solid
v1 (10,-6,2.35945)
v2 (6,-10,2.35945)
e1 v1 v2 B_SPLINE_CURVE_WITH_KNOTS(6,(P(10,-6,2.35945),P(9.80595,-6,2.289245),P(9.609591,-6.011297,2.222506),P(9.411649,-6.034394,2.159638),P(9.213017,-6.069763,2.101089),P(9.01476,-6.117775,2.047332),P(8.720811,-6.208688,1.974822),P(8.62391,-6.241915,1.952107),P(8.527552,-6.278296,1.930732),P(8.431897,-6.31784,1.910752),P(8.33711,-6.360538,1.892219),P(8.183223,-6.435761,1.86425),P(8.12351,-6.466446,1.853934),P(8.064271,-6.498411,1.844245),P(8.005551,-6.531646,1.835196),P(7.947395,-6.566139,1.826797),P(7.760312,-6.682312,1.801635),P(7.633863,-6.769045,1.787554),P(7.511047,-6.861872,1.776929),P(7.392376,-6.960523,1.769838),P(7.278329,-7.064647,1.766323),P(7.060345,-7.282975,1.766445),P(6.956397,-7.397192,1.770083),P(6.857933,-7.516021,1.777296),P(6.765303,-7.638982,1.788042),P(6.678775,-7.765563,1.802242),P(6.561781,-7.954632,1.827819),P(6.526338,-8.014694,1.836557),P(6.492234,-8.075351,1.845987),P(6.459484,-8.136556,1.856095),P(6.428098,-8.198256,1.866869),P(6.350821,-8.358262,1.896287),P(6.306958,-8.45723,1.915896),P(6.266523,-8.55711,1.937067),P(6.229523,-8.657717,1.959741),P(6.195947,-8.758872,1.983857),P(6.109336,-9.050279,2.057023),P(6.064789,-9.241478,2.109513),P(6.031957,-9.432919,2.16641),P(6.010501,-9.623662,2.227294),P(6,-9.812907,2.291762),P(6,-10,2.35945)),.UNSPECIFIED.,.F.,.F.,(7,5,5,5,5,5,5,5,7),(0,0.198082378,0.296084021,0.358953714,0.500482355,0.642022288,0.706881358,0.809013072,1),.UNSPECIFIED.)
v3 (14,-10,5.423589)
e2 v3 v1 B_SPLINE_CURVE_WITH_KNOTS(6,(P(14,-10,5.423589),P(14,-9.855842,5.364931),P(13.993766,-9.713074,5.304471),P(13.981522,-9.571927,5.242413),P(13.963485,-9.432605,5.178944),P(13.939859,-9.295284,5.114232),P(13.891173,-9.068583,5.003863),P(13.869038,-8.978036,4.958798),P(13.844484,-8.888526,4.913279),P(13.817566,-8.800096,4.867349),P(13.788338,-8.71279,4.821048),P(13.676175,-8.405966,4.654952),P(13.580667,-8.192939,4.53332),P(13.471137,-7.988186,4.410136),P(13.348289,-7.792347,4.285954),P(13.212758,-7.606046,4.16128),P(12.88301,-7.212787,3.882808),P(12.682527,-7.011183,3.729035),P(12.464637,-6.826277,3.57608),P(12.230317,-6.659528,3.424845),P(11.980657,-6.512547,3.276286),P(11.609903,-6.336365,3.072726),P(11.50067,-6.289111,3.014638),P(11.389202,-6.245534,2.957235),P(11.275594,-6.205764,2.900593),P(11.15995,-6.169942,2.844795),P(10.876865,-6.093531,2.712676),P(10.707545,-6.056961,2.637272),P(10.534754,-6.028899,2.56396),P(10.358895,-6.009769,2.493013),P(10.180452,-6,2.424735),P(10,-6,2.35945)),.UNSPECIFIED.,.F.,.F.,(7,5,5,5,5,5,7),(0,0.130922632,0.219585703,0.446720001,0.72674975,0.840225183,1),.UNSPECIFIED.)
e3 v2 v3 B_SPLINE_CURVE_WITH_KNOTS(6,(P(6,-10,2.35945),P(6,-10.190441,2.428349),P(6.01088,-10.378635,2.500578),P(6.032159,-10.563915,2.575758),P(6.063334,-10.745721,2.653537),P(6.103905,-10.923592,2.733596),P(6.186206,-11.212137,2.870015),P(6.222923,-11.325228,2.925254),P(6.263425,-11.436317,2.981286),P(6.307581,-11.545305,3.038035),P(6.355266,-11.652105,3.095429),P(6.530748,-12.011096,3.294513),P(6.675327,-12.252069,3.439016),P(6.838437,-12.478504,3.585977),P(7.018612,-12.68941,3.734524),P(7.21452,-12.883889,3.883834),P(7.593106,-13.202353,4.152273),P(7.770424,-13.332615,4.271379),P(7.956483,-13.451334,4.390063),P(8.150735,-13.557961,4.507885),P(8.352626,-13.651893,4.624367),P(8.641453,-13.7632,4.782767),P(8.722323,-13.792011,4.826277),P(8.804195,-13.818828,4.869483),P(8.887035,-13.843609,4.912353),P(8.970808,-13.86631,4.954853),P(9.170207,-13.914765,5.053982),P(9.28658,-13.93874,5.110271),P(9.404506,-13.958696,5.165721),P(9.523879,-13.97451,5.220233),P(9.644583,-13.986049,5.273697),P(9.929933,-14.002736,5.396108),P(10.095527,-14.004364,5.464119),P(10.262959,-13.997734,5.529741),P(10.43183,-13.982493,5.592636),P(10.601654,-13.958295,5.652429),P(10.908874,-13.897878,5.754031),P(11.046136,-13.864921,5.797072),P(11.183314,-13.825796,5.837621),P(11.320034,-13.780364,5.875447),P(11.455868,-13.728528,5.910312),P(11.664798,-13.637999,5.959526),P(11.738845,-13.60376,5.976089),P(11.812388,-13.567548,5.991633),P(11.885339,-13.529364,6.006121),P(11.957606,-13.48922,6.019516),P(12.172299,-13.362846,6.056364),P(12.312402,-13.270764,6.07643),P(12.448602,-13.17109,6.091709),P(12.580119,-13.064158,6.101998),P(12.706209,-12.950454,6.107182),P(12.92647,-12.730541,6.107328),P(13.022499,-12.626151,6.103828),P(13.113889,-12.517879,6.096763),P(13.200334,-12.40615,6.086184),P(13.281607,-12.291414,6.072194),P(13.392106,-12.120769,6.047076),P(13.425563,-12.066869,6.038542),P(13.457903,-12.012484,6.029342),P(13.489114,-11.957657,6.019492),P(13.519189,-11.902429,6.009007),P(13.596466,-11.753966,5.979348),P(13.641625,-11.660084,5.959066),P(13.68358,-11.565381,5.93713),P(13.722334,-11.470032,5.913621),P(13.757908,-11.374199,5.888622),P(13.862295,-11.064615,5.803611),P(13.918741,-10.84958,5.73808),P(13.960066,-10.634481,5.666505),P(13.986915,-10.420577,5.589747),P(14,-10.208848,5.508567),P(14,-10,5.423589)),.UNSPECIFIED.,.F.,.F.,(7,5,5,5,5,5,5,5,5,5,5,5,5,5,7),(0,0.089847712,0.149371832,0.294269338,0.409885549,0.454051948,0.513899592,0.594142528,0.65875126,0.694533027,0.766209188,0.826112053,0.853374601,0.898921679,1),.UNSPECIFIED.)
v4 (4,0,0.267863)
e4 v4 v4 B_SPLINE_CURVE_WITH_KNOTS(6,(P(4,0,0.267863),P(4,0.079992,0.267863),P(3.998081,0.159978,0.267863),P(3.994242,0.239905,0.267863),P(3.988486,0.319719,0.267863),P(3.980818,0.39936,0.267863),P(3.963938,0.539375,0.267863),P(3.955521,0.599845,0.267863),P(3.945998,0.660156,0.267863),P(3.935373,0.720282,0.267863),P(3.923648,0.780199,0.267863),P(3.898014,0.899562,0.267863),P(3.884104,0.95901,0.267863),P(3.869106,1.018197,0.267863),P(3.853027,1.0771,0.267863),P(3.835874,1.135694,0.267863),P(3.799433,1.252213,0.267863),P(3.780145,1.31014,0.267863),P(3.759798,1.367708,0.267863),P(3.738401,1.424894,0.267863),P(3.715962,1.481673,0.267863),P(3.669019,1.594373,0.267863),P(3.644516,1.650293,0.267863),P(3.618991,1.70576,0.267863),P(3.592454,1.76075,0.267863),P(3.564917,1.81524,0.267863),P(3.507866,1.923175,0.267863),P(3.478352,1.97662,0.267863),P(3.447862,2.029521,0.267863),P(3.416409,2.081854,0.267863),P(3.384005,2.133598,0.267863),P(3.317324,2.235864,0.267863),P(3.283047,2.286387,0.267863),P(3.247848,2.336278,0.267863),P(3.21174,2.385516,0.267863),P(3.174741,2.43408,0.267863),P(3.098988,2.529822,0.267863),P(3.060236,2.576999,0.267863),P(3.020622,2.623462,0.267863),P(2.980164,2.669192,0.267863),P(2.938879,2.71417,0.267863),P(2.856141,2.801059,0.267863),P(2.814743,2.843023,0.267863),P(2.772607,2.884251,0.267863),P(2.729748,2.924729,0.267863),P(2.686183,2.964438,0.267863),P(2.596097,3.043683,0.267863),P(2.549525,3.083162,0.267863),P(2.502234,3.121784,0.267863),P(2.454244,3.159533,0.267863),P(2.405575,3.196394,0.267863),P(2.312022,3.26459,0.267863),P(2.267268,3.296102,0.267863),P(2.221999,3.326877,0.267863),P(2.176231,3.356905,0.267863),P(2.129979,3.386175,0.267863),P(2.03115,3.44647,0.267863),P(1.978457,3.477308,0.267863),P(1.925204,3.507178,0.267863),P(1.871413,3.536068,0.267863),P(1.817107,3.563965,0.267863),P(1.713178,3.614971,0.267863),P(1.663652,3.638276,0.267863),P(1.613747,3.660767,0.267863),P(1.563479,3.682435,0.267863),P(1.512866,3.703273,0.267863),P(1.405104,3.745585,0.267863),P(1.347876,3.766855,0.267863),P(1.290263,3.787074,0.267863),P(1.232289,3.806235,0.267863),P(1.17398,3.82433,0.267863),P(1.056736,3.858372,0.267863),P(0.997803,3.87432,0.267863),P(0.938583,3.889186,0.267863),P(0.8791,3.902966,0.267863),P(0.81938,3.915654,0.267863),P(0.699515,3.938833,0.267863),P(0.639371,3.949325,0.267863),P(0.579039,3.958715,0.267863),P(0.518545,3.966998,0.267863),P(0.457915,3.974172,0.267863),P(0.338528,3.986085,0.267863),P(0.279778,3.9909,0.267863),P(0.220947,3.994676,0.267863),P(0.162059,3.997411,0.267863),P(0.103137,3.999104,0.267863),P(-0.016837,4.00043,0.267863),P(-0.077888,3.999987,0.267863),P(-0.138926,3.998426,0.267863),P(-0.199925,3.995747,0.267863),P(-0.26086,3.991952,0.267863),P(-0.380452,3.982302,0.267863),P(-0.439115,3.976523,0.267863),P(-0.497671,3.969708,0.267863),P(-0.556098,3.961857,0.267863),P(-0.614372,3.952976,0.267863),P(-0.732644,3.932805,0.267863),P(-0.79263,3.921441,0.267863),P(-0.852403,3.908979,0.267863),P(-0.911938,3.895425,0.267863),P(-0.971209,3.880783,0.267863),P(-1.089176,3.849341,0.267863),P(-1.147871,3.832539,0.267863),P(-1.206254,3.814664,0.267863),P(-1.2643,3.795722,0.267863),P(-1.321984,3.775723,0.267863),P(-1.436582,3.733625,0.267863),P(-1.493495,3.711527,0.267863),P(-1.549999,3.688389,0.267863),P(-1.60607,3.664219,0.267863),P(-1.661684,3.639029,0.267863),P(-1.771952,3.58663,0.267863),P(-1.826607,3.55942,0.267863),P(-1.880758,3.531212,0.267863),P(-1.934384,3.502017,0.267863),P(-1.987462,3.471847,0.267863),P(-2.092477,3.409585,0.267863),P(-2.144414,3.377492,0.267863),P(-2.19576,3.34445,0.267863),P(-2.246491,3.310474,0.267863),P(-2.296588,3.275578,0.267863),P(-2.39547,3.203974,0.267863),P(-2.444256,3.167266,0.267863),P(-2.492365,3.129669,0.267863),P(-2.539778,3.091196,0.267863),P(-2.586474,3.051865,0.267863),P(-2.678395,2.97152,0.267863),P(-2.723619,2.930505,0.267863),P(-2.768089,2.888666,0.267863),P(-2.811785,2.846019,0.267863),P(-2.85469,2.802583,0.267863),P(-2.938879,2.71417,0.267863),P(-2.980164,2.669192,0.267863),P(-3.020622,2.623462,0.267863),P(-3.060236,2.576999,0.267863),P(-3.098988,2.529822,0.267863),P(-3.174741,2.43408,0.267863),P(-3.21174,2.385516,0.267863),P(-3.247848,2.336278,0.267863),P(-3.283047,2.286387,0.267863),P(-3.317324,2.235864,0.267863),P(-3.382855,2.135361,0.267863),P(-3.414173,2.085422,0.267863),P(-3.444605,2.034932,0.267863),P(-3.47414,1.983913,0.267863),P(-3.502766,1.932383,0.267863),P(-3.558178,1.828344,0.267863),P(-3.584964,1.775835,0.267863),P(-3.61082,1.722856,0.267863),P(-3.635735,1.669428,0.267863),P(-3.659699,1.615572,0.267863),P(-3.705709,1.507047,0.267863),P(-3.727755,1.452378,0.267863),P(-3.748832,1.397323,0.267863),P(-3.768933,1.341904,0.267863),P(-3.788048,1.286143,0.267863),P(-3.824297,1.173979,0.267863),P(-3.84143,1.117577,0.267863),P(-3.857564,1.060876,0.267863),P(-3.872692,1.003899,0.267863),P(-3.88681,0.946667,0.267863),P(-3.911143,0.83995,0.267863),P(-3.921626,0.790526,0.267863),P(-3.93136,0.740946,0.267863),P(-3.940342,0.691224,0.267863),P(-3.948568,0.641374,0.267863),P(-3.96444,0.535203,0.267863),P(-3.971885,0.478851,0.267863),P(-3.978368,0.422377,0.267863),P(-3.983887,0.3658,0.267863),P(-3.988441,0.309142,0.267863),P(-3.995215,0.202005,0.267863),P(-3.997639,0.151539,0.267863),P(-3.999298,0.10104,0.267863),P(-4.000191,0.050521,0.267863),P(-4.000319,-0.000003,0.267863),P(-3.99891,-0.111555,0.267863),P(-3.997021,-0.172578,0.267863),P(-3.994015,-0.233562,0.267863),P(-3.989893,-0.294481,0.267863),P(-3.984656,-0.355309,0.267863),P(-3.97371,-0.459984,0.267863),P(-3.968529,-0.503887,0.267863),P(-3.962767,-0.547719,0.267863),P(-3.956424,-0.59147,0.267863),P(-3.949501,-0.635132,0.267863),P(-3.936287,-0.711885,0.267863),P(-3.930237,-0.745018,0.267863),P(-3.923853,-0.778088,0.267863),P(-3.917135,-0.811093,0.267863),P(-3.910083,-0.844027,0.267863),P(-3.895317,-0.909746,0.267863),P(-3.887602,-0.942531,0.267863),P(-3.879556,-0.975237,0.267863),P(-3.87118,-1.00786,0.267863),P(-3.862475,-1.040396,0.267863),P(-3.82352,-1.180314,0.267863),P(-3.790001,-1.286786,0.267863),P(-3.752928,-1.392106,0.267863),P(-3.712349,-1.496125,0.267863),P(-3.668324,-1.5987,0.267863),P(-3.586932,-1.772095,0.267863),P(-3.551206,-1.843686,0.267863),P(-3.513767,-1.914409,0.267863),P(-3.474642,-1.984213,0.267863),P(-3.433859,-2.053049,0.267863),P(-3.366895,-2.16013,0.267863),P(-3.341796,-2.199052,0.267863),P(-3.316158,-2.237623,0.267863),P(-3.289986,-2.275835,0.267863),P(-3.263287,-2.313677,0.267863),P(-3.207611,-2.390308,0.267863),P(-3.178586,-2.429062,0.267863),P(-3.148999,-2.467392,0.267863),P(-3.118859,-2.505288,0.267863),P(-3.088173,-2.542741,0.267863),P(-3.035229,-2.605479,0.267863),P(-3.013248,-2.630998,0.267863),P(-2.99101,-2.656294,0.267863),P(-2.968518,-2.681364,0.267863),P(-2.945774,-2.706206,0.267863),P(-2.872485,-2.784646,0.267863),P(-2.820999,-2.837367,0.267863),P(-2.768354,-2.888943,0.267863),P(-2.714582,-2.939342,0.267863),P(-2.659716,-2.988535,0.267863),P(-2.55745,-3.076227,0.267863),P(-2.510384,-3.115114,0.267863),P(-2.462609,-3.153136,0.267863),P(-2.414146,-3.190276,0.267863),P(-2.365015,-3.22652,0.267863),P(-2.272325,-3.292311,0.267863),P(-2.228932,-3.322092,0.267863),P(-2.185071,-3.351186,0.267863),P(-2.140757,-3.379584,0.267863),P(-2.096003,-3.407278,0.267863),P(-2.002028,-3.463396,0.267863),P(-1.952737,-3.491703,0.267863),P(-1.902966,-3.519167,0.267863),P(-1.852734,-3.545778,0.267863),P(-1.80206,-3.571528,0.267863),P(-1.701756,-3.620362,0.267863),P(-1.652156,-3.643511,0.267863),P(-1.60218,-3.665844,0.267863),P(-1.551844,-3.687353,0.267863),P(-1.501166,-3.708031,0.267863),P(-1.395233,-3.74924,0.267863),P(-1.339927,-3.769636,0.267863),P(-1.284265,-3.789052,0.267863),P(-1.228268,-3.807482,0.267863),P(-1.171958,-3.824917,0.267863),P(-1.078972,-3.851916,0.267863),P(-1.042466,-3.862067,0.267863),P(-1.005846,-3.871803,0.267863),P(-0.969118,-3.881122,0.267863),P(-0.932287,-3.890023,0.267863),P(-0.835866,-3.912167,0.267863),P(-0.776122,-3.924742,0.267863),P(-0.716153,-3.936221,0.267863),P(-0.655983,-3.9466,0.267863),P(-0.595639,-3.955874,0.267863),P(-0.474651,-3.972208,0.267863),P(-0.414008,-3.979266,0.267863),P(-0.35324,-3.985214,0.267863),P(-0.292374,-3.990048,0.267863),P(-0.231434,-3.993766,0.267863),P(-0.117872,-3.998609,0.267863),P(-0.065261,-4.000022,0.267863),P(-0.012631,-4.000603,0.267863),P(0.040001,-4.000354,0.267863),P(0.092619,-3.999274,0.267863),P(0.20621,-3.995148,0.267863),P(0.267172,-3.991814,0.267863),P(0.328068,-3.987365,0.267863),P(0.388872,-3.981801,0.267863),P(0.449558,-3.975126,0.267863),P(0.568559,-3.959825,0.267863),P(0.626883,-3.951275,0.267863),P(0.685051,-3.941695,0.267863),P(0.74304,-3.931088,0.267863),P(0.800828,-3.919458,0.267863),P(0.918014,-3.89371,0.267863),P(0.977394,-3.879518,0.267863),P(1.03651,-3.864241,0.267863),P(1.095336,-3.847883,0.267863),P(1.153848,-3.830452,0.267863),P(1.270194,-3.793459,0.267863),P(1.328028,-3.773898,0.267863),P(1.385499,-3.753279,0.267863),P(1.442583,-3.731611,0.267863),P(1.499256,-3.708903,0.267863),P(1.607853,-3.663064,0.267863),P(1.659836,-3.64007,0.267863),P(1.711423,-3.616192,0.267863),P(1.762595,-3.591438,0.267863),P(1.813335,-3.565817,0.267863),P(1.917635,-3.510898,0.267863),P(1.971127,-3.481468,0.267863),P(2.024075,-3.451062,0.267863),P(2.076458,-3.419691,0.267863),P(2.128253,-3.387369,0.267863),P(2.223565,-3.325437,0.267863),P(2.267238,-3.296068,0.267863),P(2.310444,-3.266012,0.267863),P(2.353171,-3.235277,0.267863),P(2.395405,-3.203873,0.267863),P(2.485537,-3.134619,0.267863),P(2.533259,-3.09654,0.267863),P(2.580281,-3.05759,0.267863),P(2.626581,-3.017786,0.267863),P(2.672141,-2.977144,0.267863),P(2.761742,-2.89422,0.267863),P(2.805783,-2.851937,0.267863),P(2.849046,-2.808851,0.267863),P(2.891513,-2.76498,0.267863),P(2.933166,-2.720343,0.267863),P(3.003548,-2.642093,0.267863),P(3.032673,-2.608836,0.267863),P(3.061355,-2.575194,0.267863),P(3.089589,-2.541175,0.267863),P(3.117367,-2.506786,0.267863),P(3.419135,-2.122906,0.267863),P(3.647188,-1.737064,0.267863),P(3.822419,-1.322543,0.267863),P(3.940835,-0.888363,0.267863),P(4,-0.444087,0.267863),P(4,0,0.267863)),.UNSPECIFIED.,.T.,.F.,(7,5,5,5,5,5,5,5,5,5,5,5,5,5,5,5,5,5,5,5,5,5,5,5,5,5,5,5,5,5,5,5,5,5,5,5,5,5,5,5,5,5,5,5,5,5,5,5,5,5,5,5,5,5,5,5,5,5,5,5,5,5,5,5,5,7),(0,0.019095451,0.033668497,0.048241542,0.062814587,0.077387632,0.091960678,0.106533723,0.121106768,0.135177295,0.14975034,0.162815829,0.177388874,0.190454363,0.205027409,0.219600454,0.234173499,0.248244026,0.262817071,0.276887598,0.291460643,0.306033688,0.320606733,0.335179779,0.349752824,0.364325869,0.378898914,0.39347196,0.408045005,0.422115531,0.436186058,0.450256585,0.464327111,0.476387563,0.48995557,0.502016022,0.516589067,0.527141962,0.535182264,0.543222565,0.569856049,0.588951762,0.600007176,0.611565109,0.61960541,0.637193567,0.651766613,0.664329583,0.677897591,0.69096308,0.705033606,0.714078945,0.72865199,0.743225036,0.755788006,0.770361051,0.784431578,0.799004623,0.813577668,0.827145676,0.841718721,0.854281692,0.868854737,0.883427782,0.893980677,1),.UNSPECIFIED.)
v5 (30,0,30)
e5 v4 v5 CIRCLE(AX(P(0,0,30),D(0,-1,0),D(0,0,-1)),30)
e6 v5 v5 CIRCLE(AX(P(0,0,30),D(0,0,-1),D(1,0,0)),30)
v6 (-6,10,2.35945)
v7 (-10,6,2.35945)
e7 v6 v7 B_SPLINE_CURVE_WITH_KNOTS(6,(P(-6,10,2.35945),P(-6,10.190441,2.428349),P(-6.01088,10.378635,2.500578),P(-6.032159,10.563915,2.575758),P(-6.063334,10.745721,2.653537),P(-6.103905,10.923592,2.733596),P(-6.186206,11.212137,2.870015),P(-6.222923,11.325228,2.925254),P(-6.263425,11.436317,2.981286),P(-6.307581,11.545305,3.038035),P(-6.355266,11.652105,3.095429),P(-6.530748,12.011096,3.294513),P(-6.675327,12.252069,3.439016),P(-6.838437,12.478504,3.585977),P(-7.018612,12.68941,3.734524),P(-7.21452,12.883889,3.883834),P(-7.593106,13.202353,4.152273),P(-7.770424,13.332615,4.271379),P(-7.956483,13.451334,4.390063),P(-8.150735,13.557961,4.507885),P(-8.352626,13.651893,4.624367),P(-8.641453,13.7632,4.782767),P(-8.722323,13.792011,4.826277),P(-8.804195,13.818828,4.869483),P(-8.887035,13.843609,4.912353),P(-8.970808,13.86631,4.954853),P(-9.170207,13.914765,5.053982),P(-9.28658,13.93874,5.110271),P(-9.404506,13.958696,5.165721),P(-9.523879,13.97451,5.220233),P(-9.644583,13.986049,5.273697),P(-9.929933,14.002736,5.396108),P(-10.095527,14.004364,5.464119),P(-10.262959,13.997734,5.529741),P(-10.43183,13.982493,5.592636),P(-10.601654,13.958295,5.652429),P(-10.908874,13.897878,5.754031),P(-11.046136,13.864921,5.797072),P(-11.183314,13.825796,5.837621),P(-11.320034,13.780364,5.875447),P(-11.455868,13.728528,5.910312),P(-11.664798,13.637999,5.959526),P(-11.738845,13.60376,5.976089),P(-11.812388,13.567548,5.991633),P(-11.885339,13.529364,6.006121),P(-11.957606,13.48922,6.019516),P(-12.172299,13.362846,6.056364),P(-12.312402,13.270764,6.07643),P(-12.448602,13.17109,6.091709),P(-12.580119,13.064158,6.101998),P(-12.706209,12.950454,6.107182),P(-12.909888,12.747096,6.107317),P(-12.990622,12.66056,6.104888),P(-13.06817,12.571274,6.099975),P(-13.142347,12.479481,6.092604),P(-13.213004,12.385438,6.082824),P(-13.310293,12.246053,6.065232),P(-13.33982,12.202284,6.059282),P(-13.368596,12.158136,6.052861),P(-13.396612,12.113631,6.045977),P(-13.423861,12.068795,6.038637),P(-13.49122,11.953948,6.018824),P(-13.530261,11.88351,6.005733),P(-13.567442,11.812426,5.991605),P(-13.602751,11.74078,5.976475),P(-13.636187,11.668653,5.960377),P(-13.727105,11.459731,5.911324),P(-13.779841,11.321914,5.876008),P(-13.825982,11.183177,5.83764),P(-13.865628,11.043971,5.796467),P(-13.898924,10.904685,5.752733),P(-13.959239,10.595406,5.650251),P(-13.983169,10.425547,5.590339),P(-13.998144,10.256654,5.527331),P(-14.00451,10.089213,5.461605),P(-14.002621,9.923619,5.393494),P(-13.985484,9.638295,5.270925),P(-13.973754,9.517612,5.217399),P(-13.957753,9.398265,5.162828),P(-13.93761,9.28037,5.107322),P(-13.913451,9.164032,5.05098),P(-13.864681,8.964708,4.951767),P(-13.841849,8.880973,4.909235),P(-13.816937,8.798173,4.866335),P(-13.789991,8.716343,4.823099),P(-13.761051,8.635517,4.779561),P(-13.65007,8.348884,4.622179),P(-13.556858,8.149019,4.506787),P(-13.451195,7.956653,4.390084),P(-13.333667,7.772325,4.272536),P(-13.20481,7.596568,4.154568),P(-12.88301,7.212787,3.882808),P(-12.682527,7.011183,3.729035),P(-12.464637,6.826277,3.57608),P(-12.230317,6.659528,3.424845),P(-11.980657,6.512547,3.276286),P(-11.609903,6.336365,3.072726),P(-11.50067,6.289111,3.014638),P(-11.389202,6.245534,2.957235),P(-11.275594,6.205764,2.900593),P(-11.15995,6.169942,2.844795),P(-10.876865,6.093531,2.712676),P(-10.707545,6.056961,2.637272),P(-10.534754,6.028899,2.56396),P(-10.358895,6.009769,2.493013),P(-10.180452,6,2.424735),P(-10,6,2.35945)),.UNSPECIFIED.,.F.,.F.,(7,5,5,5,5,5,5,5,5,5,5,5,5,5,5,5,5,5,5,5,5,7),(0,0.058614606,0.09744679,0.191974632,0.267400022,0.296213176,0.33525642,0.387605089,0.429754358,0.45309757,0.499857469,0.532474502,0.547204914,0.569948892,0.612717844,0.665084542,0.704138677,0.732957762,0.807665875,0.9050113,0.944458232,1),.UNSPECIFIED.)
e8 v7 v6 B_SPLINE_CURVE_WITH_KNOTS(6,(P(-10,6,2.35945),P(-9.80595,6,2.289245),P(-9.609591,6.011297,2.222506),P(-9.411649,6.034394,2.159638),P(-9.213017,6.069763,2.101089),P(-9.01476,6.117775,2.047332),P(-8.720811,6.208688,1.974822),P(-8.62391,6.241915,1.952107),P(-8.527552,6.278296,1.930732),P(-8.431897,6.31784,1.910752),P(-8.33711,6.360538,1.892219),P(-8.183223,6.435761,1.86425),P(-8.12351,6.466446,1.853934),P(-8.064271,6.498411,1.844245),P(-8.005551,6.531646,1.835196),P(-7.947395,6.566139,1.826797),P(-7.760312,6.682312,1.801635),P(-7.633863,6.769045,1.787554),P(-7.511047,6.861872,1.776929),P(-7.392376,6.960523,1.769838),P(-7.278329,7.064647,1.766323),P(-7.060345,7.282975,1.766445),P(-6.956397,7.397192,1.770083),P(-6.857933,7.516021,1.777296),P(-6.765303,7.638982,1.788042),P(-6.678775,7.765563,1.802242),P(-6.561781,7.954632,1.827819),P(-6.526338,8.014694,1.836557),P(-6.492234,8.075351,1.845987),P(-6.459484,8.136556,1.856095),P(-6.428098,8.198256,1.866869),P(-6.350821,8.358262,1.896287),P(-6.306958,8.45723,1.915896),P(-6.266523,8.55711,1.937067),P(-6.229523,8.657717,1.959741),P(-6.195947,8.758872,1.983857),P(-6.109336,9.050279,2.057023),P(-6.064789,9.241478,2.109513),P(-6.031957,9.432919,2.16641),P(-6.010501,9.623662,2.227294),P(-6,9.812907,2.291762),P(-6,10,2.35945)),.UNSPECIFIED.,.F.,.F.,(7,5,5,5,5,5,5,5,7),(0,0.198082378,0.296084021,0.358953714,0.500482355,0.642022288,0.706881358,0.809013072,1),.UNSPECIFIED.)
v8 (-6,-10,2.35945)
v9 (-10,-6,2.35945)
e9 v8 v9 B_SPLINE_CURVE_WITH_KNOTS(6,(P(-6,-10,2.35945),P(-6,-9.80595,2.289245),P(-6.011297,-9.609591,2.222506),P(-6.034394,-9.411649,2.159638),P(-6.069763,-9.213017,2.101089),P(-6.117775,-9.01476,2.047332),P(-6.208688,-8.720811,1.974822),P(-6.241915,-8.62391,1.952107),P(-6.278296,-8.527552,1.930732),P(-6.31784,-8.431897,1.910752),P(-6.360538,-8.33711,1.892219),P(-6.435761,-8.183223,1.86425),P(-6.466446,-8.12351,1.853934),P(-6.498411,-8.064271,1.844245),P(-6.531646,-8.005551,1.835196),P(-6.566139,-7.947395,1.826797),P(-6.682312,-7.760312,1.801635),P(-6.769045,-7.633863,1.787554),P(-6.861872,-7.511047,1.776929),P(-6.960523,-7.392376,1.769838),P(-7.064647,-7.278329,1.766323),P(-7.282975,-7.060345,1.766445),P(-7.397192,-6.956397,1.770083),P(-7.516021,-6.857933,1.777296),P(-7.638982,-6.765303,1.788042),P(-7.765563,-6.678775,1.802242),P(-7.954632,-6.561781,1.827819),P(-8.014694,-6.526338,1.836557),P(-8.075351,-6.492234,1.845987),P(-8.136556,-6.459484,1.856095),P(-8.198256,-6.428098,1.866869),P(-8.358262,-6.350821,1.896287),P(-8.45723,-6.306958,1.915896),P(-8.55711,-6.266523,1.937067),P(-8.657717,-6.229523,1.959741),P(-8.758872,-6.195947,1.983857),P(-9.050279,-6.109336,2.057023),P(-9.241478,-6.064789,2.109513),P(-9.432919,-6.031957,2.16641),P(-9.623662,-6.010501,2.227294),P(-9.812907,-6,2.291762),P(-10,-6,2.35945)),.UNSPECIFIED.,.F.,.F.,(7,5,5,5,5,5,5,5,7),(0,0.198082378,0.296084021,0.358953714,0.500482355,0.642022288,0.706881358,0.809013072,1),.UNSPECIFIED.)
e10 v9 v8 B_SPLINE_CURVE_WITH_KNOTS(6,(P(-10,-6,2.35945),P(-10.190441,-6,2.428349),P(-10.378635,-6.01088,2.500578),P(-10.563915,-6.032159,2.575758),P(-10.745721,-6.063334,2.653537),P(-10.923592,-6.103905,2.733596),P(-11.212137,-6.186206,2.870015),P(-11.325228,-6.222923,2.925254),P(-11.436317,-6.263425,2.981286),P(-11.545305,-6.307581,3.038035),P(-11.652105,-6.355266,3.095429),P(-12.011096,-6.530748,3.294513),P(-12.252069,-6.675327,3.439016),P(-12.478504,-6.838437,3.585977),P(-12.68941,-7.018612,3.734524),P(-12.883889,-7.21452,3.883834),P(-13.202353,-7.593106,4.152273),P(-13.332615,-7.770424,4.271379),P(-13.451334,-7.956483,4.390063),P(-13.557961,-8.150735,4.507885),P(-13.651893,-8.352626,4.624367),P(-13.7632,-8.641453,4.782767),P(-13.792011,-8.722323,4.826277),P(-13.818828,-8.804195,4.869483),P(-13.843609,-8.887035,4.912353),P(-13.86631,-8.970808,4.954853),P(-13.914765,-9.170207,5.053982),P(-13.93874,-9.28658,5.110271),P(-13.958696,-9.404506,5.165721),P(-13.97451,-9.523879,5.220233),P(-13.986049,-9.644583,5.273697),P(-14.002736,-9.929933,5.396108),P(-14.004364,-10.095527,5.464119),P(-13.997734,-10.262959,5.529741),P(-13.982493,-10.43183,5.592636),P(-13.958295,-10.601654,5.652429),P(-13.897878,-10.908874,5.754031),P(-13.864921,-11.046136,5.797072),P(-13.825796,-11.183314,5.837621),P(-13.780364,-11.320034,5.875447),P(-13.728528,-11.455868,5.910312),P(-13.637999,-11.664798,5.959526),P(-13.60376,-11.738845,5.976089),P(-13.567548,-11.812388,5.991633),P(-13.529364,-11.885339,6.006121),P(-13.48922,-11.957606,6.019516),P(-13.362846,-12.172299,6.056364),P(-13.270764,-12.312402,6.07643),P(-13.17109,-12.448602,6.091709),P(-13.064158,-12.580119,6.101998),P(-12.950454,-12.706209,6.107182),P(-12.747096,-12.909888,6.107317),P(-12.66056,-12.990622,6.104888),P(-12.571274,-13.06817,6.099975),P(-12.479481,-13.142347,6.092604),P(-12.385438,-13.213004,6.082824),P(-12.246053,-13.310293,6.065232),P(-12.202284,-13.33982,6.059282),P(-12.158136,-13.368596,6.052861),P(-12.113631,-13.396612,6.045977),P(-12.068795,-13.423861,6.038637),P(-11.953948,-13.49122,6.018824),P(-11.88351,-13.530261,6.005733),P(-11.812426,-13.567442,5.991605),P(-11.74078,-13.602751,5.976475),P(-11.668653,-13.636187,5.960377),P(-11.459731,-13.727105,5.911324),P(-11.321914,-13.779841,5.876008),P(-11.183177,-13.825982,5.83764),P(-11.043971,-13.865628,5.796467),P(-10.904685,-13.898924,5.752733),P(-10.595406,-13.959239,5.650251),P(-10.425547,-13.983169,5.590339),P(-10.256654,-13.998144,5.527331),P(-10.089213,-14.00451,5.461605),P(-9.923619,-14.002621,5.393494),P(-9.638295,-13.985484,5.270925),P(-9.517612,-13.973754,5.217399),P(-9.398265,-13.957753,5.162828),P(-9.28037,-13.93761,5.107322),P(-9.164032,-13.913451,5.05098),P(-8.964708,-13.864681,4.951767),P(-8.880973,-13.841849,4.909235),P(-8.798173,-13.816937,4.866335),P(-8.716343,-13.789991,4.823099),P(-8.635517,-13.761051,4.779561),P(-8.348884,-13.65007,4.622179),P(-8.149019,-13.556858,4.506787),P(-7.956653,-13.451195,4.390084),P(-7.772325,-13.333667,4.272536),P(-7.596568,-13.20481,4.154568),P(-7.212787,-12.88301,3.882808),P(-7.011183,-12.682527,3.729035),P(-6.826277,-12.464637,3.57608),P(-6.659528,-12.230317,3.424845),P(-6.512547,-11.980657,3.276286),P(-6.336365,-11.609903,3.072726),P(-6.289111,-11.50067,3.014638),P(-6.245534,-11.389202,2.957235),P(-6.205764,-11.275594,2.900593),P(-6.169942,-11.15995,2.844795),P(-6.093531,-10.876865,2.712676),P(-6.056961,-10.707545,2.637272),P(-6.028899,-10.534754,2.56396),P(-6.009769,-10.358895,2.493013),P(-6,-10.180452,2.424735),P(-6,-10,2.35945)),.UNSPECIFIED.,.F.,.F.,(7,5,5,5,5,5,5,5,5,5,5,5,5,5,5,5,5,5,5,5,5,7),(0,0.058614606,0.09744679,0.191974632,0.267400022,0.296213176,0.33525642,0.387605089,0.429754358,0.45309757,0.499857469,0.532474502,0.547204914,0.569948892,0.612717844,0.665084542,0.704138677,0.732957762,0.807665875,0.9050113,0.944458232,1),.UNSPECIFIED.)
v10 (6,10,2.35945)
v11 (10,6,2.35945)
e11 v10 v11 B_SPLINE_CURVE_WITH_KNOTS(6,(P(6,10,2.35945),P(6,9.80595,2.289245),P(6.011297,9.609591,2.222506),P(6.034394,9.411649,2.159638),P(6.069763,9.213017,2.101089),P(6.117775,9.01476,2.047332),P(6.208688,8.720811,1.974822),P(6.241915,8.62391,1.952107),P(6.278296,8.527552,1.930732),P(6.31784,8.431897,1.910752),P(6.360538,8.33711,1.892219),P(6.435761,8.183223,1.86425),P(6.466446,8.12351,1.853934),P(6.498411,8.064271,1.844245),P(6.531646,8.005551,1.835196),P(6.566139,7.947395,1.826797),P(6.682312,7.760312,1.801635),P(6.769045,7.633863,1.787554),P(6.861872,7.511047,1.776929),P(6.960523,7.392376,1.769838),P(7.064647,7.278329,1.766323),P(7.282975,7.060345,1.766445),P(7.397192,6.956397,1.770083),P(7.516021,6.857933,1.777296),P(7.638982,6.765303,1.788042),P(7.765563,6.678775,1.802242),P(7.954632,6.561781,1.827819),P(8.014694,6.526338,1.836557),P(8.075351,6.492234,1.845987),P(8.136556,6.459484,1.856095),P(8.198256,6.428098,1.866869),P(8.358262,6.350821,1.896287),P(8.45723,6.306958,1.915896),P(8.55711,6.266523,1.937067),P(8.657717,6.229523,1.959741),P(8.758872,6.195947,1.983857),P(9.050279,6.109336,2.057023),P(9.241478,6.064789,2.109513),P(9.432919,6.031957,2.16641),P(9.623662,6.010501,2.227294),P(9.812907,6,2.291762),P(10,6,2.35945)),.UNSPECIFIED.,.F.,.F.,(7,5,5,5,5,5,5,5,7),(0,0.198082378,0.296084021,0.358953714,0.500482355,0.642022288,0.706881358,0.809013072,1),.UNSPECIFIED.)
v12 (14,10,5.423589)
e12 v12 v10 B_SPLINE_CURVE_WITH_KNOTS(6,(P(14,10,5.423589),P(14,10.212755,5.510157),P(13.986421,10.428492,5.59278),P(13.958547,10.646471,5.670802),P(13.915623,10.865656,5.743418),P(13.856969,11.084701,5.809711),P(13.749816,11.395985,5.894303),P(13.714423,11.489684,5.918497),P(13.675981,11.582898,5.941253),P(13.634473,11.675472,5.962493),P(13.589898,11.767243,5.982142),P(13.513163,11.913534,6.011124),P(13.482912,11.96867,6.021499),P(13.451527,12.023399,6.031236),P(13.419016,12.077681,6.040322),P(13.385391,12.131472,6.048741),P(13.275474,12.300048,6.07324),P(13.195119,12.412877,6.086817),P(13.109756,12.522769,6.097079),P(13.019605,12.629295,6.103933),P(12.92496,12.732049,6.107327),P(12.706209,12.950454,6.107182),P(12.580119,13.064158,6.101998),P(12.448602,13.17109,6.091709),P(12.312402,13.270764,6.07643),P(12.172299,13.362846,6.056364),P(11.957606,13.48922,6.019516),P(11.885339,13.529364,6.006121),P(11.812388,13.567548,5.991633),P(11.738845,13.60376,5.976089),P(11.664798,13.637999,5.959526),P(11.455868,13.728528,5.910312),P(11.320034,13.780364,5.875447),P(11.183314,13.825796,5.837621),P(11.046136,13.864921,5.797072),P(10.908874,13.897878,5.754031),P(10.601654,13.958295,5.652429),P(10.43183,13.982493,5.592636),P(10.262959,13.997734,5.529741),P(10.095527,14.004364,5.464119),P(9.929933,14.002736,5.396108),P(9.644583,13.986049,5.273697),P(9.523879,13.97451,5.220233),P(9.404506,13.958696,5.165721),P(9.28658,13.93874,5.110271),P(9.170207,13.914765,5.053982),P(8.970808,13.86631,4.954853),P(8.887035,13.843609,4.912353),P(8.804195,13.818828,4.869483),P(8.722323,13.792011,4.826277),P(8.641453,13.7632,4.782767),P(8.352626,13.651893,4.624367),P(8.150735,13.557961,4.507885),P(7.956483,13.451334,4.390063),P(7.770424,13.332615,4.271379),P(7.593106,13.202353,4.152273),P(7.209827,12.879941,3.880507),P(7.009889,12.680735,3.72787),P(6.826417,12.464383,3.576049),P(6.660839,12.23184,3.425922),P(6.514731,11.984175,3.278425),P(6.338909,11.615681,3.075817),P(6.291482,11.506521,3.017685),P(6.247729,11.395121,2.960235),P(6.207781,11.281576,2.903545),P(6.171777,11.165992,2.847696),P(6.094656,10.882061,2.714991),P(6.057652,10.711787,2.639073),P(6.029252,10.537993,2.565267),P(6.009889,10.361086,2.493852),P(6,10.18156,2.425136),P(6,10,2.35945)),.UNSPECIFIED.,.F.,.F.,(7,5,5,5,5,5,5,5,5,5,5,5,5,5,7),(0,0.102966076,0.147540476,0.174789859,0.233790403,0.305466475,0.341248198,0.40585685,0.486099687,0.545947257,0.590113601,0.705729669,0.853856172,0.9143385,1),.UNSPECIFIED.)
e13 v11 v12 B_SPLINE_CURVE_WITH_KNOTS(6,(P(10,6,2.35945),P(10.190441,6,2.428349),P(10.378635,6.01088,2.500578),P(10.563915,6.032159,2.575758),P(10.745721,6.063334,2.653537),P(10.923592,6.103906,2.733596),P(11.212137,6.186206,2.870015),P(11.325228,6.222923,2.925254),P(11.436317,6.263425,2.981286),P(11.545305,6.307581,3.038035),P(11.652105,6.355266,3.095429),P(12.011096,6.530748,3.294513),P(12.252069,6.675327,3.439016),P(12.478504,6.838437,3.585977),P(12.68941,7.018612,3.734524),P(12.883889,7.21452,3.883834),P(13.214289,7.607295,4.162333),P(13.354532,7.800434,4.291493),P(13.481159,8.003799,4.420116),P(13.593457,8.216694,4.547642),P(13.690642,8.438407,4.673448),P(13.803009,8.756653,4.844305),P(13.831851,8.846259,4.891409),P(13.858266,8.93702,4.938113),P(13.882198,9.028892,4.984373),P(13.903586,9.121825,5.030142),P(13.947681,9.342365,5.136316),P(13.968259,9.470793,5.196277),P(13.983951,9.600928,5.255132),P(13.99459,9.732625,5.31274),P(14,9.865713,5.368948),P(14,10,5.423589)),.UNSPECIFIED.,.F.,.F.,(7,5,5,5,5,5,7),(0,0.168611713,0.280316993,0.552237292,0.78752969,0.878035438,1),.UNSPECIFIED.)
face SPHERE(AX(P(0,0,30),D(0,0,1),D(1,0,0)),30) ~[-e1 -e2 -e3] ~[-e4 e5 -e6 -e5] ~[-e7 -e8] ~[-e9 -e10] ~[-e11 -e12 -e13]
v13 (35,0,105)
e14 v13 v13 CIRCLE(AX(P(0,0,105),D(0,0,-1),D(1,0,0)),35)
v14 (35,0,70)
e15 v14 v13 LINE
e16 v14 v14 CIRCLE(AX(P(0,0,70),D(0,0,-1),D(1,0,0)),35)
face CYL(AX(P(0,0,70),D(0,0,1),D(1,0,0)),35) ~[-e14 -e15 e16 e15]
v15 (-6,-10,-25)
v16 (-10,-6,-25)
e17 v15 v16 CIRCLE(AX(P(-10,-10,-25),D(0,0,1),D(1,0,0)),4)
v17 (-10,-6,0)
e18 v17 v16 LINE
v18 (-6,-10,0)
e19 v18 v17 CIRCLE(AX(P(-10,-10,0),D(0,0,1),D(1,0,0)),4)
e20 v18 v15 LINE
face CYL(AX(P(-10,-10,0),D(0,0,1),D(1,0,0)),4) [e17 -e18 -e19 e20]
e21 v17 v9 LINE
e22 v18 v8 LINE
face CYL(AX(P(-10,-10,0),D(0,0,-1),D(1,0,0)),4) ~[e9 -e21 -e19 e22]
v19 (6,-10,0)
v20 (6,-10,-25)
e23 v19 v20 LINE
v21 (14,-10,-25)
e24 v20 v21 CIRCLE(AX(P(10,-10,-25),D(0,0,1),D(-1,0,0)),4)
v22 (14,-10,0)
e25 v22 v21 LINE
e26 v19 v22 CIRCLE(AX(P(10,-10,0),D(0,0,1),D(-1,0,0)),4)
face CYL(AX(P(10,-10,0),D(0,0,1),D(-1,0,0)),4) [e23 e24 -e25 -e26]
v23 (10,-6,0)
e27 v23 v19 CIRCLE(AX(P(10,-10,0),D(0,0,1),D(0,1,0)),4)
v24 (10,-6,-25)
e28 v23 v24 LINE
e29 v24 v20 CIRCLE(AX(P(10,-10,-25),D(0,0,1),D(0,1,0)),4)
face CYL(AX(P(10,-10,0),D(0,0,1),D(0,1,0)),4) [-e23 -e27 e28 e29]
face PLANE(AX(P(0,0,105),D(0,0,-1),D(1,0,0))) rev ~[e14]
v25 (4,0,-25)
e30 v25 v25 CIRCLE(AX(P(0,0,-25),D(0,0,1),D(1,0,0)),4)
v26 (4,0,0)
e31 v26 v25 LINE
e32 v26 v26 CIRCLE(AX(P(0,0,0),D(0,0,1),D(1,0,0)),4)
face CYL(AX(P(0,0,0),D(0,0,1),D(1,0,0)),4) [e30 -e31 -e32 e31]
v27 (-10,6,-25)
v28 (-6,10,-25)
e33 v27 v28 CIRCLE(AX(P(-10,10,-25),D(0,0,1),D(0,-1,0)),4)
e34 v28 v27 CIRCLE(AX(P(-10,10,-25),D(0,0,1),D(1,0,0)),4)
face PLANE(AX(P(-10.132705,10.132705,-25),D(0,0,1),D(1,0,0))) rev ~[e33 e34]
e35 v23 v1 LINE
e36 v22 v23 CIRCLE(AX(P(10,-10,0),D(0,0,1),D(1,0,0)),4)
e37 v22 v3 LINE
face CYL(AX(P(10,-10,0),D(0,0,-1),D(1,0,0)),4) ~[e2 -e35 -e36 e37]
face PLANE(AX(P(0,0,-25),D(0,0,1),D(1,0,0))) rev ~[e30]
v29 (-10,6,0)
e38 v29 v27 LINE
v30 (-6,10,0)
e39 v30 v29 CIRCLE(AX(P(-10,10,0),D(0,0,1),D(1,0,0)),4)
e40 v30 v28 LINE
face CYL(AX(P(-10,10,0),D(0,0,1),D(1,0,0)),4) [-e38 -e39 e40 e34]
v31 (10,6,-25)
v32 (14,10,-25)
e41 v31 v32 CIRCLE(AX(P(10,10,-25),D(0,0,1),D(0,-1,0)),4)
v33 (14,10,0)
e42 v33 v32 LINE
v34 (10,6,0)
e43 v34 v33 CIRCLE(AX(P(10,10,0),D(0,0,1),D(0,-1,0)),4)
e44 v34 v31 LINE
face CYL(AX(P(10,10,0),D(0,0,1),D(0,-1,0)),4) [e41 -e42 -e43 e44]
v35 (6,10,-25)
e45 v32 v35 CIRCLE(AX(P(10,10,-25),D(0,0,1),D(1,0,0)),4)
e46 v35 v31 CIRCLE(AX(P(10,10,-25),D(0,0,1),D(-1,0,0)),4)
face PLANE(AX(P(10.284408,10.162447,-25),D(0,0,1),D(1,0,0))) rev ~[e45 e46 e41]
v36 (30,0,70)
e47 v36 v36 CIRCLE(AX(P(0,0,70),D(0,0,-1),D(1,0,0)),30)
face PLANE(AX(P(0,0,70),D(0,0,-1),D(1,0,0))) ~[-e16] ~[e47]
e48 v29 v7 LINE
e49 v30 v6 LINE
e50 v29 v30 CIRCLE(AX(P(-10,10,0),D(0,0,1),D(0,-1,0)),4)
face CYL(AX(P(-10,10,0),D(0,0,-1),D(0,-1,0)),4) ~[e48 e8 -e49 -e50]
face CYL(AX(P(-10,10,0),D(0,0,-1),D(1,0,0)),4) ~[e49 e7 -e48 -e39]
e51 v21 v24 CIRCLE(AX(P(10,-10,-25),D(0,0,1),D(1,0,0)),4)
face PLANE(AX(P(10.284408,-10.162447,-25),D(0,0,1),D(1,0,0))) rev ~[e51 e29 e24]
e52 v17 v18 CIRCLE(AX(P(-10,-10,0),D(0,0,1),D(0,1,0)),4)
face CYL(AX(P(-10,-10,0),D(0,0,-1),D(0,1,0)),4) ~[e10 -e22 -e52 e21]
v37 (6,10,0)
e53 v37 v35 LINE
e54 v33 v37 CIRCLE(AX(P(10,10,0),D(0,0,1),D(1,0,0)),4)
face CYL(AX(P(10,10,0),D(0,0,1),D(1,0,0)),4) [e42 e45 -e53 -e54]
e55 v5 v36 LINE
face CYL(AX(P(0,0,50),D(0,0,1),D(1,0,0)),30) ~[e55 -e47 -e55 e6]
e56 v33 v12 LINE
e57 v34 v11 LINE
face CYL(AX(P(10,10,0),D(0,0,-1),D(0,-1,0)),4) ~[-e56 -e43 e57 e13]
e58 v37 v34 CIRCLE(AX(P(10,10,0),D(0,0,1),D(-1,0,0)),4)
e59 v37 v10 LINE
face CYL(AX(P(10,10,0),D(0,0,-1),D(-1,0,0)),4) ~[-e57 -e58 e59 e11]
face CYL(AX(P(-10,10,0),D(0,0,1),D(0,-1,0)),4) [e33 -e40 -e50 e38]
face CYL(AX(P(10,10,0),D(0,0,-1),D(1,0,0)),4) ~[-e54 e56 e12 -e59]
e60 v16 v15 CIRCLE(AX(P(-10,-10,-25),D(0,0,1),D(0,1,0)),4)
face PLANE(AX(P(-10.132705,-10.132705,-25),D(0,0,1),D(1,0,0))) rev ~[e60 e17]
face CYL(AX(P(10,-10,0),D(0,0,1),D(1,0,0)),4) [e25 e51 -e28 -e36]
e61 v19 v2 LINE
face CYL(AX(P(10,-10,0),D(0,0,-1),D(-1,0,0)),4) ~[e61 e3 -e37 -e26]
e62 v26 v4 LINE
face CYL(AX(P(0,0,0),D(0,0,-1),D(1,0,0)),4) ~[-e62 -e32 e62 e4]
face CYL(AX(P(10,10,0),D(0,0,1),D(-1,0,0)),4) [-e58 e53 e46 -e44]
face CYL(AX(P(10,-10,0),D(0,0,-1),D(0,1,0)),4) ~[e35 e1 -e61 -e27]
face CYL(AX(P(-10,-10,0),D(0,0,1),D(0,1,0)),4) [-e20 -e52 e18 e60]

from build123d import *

# Parameters (mm, degrees)
F0_W     = 30
F0_H     = 40
F2_R     = 4
F3_DEPTH = 25
F4_DEPTH = 25


with BuildPart() as f1:
    # F0 (on Front) → F1 (revolve)
    with BuildSketch(Plane.XZ):
        Polygon((0, 105), (0, 70), (30, 70), (35, 70), (35, 105), align=None)
        with Locations((15, 50)):
            Rectangle(F0_W, F0_H)
        with BuildLine():
            Line((30, 30), (0, 30))
            Line((0, 30), (0, 0))
            ThreePointArc((0, 0), (21.2132034356, 8.7867965644), (30, 30))
        make_face()
    revolve(axis=Axis((0, 0, 50), (0, 0, -1)))

    # F2 (on Top) → F3 (join)
    with BuildSketch(Plane.XY):
        with BuildLine():
            ThreePointArc((14, 10), (10, 14), (6, 10))
            Line((6, 10), (10, 10))
            Line((10, 10), (10, 6))
            ThreePointArc((10, 6), (12.8284271247, 7.1715728753), (14, 10))
        make_face()
        with BuildLine():
            Line((-10, 10), (-6, 10))
            ThreePointArc((-6, 10), (-12.8284271247, 12.8284271247), (-10, 6))
            Line((-10, 6), (-10, 10))
        make_face()
        with BuildLine():
            ThreePointArc((14, -10), (12.8284271247, -7.1715728753), (10, -6))
            Line((10, -6), (10, -10))
            Line((10, -10), (6, -10))
            ThreePointArc((6, -10), (10, -14), (14, -10))
        make_face()
        with BuildLine():
            Line((-10, -10), (-10, -6))
            ThreePointArc((-10, -6), (-12.8284271247, -12.8284271247), (-6, -10))
            Line((-6, -10), (-10, -10))
        make_face()
        with BuildLine():
            Line((10, 10), (6, 10))
            ThreePointArc((6, 10), (7.1715728753, 7.1715728753), (10, 6))
            Line((10, 6), (10, 10))
        make_face()
        with BuildLine():
            ThreePointArc((-10, 6), (-7.1715728753, 7.1715728753), (-6, 10))
            Line((-6, 10), (-10, 10))
            Line((-10, 10), (-10, 6))
        make_face()
        with BuildLine():
            Line((10, -10), (10, -6))
            ThreePointArc((10, -6), (7.1715728753, -7.1715728753), (6, -10))
            Line((6, -10), (10, -10))
        make_face()
        with BuildLine():
            ThreePointArc((-6, -10), (-7.1715728753, -7.1715728753), (-10, -6))
            Line((-10, -6), (-10, -10))
            Line((-10, -10), (-6, -10))
        make_face()
        Circle(F2_R)
    extrude(amount=F3_DEPTH)

    # F4 (add): faces of the model
    f4_faces = [f1.faces().sort_by_distance(p)[0] for p in [
        (-10, -10, 0),
        (0, 0, 0),
        (-10, 10, 0),
        (10, -10, 0),
        (10, 10, 0),
    ]]
    extrude(f4_faces, amount=F4_DEPTH)


solid = f1.part
